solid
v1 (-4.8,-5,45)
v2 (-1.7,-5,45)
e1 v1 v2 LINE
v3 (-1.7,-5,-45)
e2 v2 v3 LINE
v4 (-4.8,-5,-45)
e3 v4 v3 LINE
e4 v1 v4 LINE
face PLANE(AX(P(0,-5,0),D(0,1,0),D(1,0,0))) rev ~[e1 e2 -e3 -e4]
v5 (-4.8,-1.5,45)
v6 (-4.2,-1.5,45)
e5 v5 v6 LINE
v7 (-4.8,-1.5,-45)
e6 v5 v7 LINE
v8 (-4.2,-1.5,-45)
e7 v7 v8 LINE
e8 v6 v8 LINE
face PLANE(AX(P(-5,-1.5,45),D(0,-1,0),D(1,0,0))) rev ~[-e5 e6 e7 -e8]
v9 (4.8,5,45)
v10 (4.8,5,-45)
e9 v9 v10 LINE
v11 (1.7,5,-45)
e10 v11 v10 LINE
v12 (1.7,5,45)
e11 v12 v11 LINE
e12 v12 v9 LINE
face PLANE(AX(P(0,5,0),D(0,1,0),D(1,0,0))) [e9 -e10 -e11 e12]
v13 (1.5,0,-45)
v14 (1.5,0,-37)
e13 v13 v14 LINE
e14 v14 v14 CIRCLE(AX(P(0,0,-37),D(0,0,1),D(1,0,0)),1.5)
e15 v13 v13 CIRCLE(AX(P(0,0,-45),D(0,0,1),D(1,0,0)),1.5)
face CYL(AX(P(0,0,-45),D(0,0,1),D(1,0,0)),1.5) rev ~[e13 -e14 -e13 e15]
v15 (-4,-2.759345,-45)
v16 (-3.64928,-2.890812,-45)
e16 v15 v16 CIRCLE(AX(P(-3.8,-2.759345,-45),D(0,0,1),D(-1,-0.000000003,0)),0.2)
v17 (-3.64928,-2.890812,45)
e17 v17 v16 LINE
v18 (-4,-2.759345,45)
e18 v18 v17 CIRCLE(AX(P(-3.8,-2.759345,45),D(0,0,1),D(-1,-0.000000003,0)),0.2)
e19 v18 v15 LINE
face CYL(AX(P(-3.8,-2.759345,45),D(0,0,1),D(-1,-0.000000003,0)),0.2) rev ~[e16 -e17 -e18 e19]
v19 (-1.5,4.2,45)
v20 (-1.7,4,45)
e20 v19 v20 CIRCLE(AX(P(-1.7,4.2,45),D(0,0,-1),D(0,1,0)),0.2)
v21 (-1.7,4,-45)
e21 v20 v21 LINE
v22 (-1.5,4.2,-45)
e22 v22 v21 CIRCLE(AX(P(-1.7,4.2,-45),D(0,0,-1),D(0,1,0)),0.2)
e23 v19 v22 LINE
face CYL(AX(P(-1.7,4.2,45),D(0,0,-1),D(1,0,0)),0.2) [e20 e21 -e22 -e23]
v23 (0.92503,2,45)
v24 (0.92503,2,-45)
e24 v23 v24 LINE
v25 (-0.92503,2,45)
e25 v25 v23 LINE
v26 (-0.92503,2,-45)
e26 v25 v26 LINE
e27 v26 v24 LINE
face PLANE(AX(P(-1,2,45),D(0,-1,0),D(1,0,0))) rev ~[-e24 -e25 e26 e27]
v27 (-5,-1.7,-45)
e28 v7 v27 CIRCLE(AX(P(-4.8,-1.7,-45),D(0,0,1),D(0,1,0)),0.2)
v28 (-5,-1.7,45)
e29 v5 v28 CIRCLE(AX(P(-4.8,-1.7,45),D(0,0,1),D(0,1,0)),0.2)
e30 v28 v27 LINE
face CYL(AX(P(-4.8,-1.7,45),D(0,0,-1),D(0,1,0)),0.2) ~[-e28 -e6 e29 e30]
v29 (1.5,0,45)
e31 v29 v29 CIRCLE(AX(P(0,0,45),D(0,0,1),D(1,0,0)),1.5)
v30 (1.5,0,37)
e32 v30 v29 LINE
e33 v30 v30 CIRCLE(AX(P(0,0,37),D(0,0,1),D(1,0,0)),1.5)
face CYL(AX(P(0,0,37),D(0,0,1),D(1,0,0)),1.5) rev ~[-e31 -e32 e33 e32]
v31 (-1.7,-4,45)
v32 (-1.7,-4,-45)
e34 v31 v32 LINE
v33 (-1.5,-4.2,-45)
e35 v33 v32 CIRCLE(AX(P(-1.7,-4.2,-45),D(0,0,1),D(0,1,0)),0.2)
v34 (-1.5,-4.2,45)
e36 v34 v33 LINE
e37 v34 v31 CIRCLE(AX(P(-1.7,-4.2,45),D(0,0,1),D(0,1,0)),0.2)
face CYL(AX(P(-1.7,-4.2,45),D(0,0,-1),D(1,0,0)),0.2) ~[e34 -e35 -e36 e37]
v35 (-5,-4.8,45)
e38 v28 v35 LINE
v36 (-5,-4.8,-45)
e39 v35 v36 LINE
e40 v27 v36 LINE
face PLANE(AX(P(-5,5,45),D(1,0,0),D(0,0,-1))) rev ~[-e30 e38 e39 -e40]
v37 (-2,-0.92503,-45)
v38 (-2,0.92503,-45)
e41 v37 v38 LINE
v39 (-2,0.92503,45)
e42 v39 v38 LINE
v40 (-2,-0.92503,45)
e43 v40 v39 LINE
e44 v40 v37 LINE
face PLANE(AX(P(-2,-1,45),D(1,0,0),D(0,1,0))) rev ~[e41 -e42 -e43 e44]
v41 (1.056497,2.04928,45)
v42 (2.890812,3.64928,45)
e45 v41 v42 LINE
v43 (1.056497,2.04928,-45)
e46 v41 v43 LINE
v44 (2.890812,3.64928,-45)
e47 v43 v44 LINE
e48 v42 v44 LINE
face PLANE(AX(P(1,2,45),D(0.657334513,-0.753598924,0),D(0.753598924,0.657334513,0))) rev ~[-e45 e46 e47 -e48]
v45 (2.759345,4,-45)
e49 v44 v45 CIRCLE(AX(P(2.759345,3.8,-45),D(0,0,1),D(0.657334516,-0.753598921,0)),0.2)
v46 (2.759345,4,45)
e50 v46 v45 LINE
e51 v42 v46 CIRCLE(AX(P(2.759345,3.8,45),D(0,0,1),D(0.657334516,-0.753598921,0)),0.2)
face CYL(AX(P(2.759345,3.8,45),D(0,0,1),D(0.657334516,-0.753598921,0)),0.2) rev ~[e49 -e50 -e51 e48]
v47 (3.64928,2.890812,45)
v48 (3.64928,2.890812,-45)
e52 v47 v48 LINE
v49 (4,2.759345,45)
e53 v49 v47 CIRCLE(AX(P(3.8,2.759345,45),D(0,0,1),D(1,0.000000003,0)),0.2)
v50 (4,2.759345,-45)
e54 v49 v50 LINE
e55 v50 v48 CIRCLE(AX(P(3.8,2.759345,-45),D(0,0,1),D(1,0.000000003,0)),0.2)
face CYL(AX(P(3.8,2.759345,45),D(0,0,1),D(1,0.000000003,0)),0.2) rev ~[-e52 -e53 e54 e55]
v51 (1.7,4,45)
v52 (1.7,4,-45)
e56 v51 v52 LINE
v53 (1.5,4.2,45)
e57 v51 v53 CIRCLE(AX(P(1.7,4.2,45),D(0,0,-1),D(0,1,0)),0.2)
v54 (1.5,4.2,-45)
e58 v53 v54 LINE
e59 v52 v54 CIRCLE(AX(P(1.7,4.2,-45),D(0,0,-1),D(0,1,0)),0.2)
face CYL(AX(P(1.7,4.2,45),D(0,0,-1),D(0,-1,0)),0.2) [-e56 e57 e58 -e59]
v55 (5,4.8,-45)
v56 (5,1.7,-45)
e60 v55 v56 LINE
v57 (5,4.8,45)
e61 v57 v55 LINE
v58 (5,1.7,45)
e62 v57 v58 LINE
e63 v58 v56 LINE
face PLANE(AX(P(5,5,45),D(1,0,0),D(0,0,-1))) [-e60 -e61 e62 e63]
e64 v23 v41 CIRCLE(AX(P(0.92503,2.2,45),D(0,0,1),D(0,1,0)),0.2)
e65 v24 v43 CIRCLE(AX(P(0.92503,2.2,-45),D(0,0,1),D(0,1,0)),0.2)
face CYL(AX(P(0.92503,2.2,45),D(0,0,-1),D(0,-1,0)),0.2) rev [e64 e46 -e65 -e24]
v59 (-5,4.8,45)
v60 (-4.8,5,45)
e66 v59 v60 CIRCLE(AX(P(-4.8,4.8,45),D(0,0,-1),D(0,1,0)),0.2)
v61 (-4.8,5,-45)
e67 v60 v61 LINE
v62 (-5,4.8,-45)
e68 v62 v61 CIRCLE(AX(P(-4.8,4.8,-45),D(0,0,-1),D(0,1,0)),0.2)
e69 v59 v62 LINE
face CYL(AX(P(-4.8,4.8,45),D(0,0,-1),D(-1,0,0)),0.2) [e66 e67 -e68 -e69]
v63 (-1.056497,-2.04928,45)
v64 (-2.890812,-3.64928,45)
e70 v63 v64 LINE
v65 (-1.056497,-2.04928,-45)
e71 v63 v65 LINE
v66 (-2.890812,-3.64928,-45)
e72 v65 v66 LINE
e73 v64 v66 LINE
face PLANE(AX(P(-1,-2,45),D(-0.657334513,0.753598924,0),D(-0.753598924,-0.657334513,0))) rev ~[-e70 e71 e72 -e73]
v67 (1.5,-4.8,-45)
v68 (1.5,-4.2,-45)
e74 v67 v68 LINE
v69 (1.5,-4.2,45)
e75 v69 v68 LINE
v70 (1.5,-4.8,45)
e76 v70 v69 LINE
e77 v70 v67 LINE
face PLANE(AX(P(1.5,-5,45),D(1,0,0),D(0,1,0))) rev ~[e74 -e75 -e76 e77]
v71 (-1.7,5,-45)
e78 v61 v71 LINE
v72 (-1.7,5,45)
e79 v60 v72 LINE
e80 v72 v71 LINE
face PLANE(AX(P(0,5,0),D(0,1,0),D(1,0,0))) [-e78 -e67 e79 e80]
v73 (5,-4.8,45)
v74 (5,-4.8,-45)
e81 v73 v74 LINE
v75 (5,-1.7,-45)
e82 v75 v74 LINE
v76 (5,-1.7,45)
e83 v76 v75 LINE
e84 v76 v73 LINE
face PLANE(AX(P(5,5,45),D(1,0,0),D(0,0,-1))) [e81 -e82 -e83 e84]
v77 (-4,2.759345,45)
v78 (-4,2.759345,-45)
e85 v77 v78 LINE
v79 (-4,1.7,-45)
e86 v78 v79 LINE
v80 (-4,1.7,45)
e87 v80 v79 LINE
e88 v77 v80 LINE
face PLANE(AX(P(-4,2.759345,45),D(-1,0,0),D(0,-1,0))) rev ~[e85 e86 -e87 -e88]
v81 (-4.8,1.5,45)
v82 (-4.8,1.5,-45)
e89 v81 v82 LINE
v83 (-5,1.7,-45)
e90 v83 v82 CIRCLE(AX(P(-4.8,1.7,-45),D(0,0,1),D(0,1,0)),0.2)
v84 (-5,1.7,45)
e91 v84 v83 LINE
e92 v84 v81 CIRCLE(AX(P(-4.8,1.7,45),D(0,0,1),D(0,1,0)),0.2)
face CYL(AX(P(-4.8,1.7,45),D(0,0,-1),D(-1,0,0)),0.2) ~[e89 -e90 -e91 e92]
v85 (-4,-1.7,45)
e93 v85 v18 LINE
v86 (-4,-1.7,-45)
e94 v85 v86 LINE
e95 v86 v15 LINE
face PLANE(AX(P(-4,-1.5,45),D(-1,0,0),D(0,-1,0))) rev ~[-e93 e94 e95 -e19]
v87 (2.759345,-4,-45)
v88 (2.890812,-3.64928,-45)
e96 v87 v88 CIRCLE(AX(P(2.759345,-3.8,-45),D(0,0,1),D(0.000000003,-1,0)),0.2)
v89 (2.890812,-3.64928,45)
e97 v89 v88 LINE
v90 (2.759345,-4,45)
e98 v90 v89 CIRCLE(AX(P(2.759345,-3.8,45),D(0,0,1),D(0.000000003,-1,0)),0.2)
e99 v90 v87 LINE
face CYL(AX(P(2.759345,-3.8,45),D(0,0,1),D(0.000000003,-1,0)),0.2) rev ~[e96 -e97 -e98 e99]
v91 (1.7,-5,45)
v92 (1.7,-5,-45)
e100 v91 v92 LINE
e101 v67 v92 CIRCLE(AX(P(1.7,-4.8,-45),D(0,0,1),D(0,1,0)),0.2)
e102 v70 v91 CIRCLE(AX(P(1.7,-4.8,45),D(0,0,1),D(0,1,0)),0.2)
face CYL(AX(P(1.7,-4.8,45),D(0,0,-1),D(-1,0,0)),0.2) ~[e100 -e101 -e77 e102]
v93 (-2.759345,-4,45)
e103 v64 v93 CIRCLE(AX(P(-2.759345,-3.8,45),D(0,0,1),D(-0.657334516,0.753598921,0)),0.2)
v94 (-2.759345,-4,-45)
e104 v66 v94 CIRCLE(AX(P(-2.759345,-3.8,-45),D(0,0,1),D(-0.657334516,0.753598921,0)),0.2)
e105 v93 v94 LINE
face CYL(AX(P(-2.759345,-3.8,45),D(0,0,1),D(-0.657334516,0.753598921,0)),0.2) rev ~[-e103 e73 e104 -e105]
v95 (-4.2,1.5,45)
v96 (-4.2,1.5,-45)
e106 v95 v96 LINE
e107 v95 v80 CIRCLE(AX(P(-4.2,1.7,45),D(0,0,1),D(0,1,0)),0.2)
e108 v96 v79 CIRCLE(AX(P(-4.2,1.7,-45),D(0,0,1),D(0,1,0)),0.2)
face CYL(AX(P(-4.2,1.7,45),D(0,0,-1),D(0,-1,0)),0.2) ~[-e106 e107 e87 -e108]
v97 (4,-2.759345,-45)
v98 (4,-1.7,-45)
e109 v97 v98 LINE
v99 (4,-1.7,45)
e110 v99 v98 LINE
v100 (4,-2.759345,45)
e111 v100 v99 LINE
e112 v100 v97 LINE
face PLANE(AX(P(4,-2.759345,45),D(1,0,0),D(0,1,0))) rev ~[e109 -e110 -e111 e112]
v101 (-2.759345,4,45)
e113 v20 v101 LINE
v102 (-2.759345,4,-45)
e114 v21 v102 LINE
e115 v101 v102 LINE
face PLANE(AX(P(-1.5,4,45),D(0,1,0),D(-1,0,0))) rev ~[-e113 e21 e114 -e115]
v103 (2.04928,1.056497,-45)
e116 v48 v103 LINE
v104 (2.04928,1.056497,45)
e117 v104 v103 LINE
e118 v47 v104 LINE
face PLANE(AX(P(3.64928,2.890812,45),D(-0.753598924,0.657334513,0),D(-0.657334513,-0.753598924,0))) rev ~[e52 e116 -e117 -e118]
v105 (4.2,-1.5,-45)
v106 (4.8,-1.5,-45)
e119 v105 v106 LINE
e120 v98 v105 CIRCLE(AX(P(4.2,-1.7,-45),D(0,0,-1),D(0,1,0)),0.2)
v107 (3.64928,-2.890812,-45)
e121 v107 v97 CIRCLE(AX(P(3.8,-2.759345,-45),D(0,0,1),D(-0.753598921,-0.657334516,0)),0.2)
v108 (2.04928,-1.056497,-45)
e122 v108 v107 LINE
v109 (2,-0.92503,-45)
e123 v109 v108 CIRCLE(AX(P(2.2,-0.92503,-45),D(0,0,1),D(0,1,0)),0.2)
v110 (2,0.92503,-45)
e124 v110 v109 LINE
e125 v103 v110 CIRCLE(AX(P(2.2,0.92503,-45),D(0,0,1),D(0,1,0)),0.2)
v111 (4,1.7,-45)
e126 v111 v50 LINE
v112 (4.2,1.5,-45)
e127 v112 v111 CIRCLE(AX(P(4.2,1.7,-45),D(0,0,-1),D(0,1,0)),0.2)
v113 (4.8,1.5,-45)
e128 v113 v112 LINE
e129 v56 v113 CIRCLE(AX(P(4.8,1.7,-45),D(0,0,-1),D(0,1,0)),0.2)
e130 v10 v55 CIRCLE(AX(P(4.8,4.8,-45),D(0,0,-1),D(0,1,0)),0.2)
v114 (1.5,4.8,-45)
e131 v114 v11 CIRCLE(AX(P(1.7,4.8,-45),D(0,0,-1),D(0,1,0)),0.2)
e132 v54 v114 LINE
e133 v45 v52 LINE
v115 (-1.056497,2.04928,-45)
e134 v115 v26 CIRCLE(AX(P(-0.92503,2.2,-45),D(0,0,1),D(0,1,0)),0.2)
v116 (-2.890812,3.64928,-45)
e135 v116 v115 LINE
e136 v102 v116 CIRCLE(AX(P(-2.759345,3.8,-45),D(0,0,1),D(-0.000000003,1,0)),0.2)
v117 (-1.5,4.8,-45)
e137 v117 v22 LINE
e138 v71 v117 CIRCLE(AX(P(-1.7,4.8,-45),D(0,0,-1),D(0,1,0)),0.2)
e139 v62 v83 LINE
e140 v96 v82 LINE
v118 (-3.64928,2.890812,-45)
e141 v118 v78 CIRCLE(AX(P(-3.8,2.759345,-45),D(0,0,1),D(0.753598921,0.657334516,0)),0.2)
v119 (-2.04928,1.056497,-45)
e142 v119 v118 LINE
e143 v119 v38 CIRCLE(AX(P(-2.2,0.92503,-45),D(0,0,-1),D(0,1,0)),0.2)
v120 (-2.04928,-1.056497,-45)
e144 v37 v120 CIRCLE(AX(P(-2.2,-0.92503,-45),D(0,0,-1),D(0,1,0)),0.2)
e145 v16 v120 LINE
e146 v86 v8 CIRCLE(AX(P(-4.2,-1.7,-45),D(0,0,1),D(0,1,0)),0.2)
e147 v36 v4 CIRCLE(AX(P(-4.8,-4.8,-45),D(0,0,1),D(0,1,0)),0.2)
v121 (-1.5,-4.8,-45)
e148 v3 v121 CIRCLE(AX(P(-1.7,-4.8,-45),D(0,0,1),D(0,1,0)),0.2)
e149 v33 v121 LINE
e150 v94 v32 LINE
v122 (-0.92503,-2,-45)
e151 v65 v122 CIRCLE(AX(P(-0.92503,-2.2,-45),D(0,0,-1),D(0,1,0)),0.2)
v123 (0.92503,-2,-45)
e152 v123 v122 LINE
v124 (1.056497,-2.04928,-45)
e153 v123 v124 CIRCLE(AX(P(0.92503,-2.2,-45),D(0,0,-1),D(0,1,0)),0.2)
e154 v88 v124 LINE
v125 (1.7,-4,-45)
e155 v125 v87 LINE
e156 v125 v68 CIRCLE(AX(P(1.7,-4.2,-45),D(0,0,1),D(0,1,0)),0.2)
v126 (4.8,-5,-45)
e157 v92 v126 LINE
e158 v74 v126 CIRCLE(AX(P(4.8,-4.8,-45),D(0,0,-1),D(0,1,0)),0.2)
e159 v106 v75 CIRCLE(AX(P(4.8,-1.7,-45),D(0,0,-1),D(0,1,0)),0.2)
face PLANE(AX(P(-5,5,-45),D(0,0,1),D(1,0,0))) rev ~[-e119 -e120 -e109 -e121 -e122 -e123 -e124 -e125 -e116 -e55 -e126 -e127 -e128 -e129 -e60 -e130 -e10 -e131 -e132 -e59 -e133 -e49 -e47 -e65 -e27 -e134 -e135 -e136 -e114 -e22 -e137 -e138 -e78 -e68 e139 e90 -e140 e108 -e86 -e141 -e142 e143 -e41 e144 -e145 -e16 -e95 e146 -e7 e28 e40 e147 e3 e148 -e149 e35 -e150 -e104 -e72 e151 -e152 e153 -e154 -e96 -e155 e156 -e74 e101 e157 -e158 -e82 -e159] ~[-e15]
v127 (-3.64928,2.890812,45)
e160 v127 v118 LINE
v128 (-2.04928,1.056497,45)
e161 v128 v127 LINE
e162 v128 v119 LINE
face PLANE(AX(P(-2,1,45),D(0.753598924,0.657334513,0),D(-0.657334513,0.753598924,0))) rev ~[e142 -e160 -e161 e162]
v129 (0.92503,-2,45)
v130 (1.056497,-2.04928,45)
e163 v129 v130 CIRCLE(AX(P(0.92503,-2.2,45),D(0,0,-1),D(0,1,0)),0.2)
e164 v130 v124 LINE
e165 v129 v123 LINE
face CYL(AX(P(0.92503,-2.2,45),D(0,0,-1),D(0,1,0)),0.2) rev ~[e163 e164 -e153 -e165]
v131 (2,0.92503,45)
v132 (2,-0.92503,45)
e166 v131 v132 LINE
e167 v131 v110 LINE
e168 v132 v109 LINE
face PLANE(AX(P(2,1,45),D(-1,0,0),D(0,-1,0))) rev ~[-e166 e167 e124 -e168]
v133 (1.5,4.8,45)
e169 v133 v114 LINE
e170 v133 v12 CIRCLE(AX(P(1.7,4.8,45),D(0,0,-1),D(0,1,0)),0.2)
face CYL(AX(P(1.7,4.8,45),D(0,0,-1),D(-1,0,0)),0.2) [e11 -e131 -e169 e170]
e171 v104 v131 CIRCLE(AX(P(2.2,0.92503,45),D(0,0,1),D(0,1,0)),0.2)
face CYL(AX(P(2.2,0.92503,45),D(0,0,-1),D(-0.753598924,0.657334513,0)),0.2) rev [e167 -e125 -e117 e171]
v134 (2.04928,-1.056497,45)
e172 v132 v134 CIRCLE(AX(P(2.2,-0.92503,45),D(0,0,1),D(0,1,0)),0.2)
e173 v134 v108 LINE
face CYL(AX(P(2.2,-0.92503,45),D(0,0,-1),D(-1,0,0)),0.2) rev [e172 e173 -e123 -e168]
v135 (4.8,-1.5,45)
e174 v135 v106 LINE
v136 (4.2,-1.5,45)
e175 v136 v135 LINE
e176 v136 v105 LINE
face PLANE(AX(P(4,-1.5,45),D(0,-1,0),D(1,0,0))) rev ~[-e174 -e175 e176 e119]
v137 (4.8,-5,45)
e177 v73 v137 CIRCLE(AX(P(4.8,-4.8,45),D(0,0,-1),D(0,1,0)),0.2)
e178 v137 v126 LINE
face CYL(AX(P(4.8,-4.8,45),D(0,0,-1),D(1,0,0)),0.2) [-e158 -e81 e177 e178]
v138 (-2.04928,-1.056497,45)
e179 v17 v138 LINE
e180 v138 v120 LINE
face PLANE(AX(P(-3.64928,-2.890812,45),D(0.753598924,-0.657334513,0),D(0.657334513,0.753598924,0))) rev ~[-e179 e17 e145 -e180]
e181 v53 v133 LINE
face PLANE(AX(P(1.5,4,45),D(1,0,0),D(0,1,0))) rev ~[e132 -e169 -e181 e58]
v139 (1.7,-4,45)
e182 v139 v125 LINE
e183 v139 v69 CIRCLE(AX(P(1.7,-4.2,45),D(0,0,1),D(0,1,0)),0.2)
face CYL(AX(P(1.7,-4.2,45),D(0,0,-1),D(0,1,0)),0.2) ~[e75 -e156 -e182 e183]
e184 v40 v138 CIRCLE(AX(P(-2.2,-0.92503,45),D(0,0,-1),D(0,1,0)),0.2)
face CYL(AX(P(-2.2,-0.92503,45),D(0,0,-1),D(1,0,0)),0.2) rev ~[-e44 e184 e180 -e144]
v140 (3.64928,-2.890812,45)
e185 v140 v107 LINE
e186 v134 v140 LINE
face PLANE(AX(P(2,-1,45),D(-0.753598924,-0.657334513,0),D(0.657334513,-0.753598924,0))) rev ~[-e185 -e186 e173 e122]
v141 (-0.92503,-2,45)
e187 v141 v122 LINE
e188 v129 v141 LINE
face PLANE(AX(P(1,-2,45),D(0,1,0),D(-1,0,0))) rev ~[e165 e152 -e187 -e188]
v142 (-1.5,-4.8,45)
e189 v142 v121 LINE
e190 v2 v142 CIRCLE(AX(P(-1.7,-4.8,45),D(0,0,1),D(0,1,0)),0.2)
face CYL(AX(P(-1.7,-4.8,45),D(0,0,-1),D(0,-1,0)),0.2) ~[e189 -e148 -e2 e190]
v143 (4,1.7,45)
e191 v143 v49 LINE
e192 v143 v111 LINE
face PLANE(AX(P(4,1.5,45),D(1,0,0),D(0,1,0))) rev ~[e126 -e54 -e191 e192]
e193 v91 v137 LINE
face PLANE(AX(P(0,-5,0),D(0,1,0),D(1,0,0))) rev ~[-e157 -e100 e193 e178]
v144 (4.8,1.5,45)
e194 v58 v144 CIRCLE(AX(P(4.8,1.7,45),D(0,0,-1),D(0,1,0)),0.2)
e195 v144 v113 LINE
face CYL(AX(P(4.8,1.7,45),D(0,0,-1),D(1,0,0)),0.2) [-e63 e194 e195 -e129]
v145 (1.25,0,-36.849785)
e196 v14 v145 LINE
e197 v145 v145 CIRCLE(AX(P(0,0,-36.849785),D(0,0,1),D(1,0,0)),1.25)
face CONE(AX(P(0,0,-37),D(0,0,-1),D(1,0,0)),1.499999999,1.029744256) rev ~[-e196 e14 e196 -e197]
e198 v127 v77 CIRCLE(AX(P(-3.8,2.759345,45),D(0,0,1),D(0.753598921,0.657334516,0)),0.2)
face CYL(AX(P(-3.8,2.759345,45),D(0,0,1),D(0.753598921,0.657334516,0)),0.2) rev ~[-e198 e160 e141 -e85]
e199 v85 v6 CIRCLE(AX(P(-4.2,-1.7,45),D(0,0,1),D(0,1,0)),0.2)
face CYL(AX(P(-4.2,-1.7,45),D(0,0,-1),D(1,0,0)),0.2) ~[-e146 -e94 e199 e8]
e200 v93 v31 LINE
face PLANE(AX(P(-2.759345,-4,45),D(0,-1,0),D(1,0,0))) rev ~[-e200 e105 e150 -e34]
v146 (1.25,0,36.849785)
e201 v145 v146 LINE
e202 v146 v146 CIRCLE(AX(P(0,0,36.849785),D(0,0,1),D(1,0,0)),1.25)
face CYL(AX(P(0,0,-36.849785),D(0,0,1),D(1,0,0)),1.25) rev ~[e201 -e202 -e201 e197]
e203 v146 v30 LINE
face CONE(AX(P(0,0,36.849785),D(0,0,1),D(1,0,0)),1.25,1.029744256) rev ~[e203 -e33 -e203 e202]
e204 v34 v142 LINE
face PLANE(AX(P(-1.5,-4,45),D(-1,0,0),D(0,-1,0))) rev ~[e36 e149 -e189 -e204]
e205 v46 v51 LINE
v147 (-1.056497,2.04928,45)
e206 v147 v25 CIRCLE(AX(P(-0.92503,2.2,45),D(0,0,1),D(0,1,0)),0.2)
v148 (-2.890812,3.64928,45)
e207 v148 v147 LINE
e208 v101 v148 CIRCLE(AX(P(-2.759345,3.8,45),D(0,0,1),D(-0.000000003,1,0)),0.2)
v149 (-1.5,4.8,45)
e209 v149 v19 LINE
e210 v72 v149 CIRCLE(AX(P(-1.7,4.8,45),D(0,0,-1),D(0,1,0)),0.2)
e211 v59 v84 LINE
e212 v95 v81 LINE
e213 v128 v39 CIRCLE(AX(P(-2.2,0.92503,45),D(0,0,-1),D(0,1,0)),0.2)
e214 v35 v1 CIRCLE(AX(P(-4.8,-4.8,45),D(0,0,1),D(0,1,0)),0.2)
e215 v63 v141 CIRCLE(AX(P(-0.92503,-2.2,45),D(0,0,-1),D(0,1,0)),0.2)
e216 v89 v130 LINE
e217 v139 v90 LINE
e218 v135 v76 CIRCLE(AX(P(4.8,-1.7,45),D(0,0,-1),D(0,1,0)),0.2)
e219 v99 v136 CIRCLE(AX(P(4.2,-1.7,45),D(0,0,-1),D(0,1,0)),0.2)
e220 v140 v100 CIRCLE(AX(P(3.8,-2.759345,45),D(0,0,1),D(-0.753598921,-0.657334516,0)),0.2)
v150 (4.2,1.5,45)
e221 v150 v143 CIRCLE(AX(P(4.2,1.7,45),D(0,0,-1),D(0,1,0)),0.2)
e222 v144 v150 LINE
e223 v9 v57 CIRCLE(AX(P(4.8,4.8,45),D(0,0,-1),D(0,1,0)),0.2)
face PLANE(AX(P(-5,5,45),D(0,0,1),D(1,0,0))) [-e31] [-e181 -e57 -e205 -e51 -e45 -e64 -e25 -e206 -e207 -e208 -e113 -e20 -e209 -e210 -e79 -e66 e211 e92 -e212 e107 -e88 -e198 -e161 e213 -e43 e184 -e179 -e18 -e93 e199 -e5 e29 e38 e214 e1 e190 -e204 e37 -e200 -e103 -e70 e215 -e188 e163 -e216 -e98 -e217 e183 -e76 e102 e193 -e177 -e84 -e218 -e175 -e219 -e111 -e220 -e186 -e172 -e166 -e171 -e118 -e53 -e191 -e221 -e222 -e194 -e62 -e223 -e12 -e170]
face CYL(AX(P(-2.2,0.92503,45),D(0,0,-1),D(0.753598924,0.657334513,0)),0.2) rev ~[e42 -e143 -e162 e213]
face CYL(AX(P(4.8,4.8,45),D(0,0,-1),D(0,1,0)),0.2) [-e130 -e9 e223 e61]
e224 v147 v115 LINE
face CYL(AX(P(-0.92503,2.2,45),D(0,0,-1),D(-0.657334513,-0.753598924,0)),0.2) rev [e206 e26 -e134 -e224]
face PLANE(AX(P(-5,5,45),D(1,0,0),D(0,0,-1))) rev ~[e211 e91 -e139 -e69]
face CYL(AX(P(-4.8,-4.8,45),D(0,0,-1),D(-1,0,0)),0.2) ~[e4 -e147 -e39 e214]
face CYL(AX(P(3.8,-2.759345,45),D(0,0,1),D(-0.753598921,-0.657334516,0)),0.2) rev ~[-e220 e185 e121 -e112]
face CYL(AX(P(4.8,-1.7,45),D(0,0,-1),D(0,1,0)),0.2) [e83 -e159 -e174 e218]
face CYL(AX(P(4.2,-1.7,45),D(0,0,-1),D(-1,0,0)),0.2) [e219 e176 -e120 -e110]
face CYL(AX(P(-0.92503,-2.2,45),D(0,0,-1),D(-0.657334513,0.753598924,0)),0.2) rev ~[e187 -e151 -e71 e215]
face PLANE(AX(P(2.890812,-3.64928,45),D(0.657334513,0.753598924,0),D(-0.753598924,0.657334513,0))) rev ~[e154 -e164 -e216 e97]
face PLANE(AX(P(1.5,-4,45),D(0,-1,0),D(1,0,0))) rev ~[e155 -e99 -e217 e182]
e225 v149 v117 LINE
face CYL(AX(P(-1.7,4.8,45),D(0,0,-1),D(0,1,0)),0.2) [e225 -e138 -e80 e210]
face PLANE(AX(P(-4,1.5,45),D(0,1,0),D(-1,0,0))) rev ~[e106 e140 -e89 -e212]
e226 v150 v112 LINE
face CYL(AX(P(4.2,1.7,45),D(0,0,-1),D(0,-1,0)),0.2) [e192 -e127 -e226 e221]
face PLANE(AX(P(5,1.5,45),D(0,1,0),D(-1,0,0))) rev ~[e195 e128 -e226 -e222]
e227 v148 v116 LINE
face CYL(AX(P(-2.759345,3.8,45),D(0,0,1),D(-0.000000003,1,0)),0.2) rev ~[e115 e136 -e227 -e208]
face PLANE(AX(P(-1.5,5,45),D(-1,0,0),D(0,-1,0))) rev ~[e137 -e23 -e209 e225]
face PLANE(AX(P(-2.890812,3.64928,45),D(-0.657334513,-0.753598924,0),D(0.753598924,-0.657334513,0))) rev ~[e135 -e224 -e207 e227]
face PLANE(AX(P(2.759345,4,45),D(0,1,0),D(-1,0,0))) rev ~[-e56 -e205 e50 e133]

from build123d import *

# Parameters (mm, degrees)
SKETCH1_W           = 10
SKETCH1_H           = 90
BOSS_EXTRUDE1_DEPTH = 10
CUT_EXTRUDE1_DEPTH  = 91
CUT_EXTRUDE2_DEPTH  = 91
CUT_EXTRUDE3_DEPTH  = 91
CUT_EXTRUDE4_DEPTH  = 91
FILLET1_R           = 0.2


with BuildPart() as part:
    # Sketch1 → Boss-Extrude1 (new body)
    with BuildSketch(Plane(origin=(0, 5, 0), x_dir=(1, 0, 0), z_dir=(0, 1, 0))):
        Rectangle(SKETCH1_W, SKETCH1_H)
    extrude(amount=-BOSS_EXTRUDE1_DEPTH)

    # Sketch2 → Cut-Extrude1 (cut, through all)
    with BuildSketch(Plane.XY.offset(45)):
        with BuildLine():
            Line((5, 1.5), (4, 1.5))
            Line((4, 1.5), (4, 2.759344808))
            ThreePointArc((4, 2.759344808), (3.870199868, 2.946619949), (3.649280215, 2.890811711))
            Line((3.649280215, 2.890811711), (2, 1))
            Line((2, 1), (2, -1))
            Line((2, -1), (3.649280215, -2.890811711))
            ThreePointArc((3.649280215, -2.890811711), (3.870199868, -2.946619949), (4, -2.759344808))
            Line((4, -2.759344808), (4, -1.5))
            Line((4, -1.5), (5, -1.5))
            Line((5, -1.5), (5, 1.5))
        make_face()
    extrude(amount=-CUT_EXTRUDE1_DEPTH, mode=Mode.SUBTRACT)

    # Sketch3 → Cut-Extrude2 (cut, through all)
    with BuildSketch(Plane.XY.offset(45)):
        with BuildLine():
            Line((1.5, -5), (1.5, -4))
            Line((1.5, -4), (2.759344808, -4))
            ThreePointArc((2.759344808, -4), (2.946619949, -3.870199868), (2.890811711, -3.649280215))
            Line((2.890811711, -3.649280215), (1, -2))
            Line((1, -2), (-1, -2))
            Line((-1, -2), (-2.890811711, -3.649280215))
            ThreePointArc((-2.890811711, -3.649280215), (-2.946619949, -3.870199868), (-2.759344808, -4))
            Line((-2.759344808, -4), (-1.5, -4))
            Line((-1.5, -4), (-1.5, -5))
            Line((-1.5, -5), (1.5, -5))
        make_face()
    extrude(amount=-CUT_EXTRUDE2_DEPTH, mode=Mode.SUBTRACT)

    # Sketch4 → Cut-Extrude3 (cut, through all)
    with BuildSketch(Plane.XY.offset(45)):
        with BuildLine():
            Line((-5, -1.5), (-4, -1.5))
            Line((-4, -1.5), (-4, -2.759344808))
            ThreePointArc((-4, -2.759344808), (-3.870199868, -2.946619949), (-3.649280215, -2.890811711))
            Line((-3.649280215, -2.890811711), (-2, -1))
            Line((-2, -1), (-2, 1))
            Line((-2, 1), (-3.649280215, 2.890811711))
            ThreePointArc((-3.649280215, 2.890811711), (-3.870199868, 2.946619949), (-4, 2.759344808))
            Line((-4, 2.759344808), (-4, 1.5))
            Line((-4, 1.5), (-5, 1.5))
            Line((-5, 1.5), (-5, -1.5))
        make_face()
    extrude(amount=-CUT_EXTRUDE3_DEPTH, mode=Mode.SUBTRACT)

    # Sketch5 → Cut-Extrude4 (cut, through all)
    with BuildSketch(Plane.XY.offset(45)):
        with BuildLine():
            Line((-1.5, 5), (-1.5, 4))
            Line((-1.5, 4), (-2.759344808, 4))
            ThreePointArc((-2.759344808, 4), (-2.946619949, 3.870199868), (-2.890811711, 3.649280215))
            Line((-2.890811711, 3.649280215), (-1, 2))
            Line((-1, 2), (1, 2))
            Line((1, 2), (2.890811711, 3.649280215))
            ThreePointArc((2.890811711, 3.649280215), (2.946619949, 3.870199868), (2.759344808, 4))
            Line((2.759344808, 4), (1.5, 4))
            Line((1.5, 4), (1.5, 5))
            Line((1.5, 5), (-1.5, 5))
        make_face()
    extrude(amount=-CUT_EXTRUDE4_DEPTH, mode=Mode.SUBTRACT)

    # Sketch6 → Cut-Revolve1 (revolve, cut)
    with BuildSketch(Plane(origin=(0, 0, 0), x_dir=(1, 0, 0), z_dir=(0, 1, 0))):
        Polygon((1.499999999, 37), (1.25, 36.849784845), (1.25, -36.849784845), (1.499999999, -37), (1.499999999, -45), (0, -45), (0, 45), (1.499999999, 45), align=None)
    revolve(axis=Axis((0, 0, -45), (0, 0, 1)), mode=Mode.SUBTRACT)

    # Fillet1
    fillet1_edges = [part.edges().sort_by_distance(p)[0] for p in [
        (-5, -5, 0),
        (-1.5, 5, 0),
        (1.5, 5, 0),
        (1.5, 4, 0),
        (1, 2, 0),
        (-1, 2, 0),
        (-1.5, 4, 0),
        (5, 1.5, 0),
        (5, -1.5, 0),
        (4, -1.5, 0),
        (2, -1, 0),
        (2, 1, 0),
        (4, 1.5, 0),
        (5, -5, 0),
        (-5, 5, 0),
        (5, 5, 0),
        (1.5, -5, 0),
        (-1.5, -5, 0),
        (-1.5, -4, 0),
        (-1, -2, 0),
        (1, -2, 0),
        (1.5, -4, 0),
        (-5, -1.5, 0),
        (-5, 1.5, 0),
        (-4, 1.5, 0),
        (-2, 1, 0),
        (-2, -1, 0),
        (-4, -1.5, 0),
    ]]
    fillet(fillet1_edges, radius=FILLET1_R)


solid = part.part
